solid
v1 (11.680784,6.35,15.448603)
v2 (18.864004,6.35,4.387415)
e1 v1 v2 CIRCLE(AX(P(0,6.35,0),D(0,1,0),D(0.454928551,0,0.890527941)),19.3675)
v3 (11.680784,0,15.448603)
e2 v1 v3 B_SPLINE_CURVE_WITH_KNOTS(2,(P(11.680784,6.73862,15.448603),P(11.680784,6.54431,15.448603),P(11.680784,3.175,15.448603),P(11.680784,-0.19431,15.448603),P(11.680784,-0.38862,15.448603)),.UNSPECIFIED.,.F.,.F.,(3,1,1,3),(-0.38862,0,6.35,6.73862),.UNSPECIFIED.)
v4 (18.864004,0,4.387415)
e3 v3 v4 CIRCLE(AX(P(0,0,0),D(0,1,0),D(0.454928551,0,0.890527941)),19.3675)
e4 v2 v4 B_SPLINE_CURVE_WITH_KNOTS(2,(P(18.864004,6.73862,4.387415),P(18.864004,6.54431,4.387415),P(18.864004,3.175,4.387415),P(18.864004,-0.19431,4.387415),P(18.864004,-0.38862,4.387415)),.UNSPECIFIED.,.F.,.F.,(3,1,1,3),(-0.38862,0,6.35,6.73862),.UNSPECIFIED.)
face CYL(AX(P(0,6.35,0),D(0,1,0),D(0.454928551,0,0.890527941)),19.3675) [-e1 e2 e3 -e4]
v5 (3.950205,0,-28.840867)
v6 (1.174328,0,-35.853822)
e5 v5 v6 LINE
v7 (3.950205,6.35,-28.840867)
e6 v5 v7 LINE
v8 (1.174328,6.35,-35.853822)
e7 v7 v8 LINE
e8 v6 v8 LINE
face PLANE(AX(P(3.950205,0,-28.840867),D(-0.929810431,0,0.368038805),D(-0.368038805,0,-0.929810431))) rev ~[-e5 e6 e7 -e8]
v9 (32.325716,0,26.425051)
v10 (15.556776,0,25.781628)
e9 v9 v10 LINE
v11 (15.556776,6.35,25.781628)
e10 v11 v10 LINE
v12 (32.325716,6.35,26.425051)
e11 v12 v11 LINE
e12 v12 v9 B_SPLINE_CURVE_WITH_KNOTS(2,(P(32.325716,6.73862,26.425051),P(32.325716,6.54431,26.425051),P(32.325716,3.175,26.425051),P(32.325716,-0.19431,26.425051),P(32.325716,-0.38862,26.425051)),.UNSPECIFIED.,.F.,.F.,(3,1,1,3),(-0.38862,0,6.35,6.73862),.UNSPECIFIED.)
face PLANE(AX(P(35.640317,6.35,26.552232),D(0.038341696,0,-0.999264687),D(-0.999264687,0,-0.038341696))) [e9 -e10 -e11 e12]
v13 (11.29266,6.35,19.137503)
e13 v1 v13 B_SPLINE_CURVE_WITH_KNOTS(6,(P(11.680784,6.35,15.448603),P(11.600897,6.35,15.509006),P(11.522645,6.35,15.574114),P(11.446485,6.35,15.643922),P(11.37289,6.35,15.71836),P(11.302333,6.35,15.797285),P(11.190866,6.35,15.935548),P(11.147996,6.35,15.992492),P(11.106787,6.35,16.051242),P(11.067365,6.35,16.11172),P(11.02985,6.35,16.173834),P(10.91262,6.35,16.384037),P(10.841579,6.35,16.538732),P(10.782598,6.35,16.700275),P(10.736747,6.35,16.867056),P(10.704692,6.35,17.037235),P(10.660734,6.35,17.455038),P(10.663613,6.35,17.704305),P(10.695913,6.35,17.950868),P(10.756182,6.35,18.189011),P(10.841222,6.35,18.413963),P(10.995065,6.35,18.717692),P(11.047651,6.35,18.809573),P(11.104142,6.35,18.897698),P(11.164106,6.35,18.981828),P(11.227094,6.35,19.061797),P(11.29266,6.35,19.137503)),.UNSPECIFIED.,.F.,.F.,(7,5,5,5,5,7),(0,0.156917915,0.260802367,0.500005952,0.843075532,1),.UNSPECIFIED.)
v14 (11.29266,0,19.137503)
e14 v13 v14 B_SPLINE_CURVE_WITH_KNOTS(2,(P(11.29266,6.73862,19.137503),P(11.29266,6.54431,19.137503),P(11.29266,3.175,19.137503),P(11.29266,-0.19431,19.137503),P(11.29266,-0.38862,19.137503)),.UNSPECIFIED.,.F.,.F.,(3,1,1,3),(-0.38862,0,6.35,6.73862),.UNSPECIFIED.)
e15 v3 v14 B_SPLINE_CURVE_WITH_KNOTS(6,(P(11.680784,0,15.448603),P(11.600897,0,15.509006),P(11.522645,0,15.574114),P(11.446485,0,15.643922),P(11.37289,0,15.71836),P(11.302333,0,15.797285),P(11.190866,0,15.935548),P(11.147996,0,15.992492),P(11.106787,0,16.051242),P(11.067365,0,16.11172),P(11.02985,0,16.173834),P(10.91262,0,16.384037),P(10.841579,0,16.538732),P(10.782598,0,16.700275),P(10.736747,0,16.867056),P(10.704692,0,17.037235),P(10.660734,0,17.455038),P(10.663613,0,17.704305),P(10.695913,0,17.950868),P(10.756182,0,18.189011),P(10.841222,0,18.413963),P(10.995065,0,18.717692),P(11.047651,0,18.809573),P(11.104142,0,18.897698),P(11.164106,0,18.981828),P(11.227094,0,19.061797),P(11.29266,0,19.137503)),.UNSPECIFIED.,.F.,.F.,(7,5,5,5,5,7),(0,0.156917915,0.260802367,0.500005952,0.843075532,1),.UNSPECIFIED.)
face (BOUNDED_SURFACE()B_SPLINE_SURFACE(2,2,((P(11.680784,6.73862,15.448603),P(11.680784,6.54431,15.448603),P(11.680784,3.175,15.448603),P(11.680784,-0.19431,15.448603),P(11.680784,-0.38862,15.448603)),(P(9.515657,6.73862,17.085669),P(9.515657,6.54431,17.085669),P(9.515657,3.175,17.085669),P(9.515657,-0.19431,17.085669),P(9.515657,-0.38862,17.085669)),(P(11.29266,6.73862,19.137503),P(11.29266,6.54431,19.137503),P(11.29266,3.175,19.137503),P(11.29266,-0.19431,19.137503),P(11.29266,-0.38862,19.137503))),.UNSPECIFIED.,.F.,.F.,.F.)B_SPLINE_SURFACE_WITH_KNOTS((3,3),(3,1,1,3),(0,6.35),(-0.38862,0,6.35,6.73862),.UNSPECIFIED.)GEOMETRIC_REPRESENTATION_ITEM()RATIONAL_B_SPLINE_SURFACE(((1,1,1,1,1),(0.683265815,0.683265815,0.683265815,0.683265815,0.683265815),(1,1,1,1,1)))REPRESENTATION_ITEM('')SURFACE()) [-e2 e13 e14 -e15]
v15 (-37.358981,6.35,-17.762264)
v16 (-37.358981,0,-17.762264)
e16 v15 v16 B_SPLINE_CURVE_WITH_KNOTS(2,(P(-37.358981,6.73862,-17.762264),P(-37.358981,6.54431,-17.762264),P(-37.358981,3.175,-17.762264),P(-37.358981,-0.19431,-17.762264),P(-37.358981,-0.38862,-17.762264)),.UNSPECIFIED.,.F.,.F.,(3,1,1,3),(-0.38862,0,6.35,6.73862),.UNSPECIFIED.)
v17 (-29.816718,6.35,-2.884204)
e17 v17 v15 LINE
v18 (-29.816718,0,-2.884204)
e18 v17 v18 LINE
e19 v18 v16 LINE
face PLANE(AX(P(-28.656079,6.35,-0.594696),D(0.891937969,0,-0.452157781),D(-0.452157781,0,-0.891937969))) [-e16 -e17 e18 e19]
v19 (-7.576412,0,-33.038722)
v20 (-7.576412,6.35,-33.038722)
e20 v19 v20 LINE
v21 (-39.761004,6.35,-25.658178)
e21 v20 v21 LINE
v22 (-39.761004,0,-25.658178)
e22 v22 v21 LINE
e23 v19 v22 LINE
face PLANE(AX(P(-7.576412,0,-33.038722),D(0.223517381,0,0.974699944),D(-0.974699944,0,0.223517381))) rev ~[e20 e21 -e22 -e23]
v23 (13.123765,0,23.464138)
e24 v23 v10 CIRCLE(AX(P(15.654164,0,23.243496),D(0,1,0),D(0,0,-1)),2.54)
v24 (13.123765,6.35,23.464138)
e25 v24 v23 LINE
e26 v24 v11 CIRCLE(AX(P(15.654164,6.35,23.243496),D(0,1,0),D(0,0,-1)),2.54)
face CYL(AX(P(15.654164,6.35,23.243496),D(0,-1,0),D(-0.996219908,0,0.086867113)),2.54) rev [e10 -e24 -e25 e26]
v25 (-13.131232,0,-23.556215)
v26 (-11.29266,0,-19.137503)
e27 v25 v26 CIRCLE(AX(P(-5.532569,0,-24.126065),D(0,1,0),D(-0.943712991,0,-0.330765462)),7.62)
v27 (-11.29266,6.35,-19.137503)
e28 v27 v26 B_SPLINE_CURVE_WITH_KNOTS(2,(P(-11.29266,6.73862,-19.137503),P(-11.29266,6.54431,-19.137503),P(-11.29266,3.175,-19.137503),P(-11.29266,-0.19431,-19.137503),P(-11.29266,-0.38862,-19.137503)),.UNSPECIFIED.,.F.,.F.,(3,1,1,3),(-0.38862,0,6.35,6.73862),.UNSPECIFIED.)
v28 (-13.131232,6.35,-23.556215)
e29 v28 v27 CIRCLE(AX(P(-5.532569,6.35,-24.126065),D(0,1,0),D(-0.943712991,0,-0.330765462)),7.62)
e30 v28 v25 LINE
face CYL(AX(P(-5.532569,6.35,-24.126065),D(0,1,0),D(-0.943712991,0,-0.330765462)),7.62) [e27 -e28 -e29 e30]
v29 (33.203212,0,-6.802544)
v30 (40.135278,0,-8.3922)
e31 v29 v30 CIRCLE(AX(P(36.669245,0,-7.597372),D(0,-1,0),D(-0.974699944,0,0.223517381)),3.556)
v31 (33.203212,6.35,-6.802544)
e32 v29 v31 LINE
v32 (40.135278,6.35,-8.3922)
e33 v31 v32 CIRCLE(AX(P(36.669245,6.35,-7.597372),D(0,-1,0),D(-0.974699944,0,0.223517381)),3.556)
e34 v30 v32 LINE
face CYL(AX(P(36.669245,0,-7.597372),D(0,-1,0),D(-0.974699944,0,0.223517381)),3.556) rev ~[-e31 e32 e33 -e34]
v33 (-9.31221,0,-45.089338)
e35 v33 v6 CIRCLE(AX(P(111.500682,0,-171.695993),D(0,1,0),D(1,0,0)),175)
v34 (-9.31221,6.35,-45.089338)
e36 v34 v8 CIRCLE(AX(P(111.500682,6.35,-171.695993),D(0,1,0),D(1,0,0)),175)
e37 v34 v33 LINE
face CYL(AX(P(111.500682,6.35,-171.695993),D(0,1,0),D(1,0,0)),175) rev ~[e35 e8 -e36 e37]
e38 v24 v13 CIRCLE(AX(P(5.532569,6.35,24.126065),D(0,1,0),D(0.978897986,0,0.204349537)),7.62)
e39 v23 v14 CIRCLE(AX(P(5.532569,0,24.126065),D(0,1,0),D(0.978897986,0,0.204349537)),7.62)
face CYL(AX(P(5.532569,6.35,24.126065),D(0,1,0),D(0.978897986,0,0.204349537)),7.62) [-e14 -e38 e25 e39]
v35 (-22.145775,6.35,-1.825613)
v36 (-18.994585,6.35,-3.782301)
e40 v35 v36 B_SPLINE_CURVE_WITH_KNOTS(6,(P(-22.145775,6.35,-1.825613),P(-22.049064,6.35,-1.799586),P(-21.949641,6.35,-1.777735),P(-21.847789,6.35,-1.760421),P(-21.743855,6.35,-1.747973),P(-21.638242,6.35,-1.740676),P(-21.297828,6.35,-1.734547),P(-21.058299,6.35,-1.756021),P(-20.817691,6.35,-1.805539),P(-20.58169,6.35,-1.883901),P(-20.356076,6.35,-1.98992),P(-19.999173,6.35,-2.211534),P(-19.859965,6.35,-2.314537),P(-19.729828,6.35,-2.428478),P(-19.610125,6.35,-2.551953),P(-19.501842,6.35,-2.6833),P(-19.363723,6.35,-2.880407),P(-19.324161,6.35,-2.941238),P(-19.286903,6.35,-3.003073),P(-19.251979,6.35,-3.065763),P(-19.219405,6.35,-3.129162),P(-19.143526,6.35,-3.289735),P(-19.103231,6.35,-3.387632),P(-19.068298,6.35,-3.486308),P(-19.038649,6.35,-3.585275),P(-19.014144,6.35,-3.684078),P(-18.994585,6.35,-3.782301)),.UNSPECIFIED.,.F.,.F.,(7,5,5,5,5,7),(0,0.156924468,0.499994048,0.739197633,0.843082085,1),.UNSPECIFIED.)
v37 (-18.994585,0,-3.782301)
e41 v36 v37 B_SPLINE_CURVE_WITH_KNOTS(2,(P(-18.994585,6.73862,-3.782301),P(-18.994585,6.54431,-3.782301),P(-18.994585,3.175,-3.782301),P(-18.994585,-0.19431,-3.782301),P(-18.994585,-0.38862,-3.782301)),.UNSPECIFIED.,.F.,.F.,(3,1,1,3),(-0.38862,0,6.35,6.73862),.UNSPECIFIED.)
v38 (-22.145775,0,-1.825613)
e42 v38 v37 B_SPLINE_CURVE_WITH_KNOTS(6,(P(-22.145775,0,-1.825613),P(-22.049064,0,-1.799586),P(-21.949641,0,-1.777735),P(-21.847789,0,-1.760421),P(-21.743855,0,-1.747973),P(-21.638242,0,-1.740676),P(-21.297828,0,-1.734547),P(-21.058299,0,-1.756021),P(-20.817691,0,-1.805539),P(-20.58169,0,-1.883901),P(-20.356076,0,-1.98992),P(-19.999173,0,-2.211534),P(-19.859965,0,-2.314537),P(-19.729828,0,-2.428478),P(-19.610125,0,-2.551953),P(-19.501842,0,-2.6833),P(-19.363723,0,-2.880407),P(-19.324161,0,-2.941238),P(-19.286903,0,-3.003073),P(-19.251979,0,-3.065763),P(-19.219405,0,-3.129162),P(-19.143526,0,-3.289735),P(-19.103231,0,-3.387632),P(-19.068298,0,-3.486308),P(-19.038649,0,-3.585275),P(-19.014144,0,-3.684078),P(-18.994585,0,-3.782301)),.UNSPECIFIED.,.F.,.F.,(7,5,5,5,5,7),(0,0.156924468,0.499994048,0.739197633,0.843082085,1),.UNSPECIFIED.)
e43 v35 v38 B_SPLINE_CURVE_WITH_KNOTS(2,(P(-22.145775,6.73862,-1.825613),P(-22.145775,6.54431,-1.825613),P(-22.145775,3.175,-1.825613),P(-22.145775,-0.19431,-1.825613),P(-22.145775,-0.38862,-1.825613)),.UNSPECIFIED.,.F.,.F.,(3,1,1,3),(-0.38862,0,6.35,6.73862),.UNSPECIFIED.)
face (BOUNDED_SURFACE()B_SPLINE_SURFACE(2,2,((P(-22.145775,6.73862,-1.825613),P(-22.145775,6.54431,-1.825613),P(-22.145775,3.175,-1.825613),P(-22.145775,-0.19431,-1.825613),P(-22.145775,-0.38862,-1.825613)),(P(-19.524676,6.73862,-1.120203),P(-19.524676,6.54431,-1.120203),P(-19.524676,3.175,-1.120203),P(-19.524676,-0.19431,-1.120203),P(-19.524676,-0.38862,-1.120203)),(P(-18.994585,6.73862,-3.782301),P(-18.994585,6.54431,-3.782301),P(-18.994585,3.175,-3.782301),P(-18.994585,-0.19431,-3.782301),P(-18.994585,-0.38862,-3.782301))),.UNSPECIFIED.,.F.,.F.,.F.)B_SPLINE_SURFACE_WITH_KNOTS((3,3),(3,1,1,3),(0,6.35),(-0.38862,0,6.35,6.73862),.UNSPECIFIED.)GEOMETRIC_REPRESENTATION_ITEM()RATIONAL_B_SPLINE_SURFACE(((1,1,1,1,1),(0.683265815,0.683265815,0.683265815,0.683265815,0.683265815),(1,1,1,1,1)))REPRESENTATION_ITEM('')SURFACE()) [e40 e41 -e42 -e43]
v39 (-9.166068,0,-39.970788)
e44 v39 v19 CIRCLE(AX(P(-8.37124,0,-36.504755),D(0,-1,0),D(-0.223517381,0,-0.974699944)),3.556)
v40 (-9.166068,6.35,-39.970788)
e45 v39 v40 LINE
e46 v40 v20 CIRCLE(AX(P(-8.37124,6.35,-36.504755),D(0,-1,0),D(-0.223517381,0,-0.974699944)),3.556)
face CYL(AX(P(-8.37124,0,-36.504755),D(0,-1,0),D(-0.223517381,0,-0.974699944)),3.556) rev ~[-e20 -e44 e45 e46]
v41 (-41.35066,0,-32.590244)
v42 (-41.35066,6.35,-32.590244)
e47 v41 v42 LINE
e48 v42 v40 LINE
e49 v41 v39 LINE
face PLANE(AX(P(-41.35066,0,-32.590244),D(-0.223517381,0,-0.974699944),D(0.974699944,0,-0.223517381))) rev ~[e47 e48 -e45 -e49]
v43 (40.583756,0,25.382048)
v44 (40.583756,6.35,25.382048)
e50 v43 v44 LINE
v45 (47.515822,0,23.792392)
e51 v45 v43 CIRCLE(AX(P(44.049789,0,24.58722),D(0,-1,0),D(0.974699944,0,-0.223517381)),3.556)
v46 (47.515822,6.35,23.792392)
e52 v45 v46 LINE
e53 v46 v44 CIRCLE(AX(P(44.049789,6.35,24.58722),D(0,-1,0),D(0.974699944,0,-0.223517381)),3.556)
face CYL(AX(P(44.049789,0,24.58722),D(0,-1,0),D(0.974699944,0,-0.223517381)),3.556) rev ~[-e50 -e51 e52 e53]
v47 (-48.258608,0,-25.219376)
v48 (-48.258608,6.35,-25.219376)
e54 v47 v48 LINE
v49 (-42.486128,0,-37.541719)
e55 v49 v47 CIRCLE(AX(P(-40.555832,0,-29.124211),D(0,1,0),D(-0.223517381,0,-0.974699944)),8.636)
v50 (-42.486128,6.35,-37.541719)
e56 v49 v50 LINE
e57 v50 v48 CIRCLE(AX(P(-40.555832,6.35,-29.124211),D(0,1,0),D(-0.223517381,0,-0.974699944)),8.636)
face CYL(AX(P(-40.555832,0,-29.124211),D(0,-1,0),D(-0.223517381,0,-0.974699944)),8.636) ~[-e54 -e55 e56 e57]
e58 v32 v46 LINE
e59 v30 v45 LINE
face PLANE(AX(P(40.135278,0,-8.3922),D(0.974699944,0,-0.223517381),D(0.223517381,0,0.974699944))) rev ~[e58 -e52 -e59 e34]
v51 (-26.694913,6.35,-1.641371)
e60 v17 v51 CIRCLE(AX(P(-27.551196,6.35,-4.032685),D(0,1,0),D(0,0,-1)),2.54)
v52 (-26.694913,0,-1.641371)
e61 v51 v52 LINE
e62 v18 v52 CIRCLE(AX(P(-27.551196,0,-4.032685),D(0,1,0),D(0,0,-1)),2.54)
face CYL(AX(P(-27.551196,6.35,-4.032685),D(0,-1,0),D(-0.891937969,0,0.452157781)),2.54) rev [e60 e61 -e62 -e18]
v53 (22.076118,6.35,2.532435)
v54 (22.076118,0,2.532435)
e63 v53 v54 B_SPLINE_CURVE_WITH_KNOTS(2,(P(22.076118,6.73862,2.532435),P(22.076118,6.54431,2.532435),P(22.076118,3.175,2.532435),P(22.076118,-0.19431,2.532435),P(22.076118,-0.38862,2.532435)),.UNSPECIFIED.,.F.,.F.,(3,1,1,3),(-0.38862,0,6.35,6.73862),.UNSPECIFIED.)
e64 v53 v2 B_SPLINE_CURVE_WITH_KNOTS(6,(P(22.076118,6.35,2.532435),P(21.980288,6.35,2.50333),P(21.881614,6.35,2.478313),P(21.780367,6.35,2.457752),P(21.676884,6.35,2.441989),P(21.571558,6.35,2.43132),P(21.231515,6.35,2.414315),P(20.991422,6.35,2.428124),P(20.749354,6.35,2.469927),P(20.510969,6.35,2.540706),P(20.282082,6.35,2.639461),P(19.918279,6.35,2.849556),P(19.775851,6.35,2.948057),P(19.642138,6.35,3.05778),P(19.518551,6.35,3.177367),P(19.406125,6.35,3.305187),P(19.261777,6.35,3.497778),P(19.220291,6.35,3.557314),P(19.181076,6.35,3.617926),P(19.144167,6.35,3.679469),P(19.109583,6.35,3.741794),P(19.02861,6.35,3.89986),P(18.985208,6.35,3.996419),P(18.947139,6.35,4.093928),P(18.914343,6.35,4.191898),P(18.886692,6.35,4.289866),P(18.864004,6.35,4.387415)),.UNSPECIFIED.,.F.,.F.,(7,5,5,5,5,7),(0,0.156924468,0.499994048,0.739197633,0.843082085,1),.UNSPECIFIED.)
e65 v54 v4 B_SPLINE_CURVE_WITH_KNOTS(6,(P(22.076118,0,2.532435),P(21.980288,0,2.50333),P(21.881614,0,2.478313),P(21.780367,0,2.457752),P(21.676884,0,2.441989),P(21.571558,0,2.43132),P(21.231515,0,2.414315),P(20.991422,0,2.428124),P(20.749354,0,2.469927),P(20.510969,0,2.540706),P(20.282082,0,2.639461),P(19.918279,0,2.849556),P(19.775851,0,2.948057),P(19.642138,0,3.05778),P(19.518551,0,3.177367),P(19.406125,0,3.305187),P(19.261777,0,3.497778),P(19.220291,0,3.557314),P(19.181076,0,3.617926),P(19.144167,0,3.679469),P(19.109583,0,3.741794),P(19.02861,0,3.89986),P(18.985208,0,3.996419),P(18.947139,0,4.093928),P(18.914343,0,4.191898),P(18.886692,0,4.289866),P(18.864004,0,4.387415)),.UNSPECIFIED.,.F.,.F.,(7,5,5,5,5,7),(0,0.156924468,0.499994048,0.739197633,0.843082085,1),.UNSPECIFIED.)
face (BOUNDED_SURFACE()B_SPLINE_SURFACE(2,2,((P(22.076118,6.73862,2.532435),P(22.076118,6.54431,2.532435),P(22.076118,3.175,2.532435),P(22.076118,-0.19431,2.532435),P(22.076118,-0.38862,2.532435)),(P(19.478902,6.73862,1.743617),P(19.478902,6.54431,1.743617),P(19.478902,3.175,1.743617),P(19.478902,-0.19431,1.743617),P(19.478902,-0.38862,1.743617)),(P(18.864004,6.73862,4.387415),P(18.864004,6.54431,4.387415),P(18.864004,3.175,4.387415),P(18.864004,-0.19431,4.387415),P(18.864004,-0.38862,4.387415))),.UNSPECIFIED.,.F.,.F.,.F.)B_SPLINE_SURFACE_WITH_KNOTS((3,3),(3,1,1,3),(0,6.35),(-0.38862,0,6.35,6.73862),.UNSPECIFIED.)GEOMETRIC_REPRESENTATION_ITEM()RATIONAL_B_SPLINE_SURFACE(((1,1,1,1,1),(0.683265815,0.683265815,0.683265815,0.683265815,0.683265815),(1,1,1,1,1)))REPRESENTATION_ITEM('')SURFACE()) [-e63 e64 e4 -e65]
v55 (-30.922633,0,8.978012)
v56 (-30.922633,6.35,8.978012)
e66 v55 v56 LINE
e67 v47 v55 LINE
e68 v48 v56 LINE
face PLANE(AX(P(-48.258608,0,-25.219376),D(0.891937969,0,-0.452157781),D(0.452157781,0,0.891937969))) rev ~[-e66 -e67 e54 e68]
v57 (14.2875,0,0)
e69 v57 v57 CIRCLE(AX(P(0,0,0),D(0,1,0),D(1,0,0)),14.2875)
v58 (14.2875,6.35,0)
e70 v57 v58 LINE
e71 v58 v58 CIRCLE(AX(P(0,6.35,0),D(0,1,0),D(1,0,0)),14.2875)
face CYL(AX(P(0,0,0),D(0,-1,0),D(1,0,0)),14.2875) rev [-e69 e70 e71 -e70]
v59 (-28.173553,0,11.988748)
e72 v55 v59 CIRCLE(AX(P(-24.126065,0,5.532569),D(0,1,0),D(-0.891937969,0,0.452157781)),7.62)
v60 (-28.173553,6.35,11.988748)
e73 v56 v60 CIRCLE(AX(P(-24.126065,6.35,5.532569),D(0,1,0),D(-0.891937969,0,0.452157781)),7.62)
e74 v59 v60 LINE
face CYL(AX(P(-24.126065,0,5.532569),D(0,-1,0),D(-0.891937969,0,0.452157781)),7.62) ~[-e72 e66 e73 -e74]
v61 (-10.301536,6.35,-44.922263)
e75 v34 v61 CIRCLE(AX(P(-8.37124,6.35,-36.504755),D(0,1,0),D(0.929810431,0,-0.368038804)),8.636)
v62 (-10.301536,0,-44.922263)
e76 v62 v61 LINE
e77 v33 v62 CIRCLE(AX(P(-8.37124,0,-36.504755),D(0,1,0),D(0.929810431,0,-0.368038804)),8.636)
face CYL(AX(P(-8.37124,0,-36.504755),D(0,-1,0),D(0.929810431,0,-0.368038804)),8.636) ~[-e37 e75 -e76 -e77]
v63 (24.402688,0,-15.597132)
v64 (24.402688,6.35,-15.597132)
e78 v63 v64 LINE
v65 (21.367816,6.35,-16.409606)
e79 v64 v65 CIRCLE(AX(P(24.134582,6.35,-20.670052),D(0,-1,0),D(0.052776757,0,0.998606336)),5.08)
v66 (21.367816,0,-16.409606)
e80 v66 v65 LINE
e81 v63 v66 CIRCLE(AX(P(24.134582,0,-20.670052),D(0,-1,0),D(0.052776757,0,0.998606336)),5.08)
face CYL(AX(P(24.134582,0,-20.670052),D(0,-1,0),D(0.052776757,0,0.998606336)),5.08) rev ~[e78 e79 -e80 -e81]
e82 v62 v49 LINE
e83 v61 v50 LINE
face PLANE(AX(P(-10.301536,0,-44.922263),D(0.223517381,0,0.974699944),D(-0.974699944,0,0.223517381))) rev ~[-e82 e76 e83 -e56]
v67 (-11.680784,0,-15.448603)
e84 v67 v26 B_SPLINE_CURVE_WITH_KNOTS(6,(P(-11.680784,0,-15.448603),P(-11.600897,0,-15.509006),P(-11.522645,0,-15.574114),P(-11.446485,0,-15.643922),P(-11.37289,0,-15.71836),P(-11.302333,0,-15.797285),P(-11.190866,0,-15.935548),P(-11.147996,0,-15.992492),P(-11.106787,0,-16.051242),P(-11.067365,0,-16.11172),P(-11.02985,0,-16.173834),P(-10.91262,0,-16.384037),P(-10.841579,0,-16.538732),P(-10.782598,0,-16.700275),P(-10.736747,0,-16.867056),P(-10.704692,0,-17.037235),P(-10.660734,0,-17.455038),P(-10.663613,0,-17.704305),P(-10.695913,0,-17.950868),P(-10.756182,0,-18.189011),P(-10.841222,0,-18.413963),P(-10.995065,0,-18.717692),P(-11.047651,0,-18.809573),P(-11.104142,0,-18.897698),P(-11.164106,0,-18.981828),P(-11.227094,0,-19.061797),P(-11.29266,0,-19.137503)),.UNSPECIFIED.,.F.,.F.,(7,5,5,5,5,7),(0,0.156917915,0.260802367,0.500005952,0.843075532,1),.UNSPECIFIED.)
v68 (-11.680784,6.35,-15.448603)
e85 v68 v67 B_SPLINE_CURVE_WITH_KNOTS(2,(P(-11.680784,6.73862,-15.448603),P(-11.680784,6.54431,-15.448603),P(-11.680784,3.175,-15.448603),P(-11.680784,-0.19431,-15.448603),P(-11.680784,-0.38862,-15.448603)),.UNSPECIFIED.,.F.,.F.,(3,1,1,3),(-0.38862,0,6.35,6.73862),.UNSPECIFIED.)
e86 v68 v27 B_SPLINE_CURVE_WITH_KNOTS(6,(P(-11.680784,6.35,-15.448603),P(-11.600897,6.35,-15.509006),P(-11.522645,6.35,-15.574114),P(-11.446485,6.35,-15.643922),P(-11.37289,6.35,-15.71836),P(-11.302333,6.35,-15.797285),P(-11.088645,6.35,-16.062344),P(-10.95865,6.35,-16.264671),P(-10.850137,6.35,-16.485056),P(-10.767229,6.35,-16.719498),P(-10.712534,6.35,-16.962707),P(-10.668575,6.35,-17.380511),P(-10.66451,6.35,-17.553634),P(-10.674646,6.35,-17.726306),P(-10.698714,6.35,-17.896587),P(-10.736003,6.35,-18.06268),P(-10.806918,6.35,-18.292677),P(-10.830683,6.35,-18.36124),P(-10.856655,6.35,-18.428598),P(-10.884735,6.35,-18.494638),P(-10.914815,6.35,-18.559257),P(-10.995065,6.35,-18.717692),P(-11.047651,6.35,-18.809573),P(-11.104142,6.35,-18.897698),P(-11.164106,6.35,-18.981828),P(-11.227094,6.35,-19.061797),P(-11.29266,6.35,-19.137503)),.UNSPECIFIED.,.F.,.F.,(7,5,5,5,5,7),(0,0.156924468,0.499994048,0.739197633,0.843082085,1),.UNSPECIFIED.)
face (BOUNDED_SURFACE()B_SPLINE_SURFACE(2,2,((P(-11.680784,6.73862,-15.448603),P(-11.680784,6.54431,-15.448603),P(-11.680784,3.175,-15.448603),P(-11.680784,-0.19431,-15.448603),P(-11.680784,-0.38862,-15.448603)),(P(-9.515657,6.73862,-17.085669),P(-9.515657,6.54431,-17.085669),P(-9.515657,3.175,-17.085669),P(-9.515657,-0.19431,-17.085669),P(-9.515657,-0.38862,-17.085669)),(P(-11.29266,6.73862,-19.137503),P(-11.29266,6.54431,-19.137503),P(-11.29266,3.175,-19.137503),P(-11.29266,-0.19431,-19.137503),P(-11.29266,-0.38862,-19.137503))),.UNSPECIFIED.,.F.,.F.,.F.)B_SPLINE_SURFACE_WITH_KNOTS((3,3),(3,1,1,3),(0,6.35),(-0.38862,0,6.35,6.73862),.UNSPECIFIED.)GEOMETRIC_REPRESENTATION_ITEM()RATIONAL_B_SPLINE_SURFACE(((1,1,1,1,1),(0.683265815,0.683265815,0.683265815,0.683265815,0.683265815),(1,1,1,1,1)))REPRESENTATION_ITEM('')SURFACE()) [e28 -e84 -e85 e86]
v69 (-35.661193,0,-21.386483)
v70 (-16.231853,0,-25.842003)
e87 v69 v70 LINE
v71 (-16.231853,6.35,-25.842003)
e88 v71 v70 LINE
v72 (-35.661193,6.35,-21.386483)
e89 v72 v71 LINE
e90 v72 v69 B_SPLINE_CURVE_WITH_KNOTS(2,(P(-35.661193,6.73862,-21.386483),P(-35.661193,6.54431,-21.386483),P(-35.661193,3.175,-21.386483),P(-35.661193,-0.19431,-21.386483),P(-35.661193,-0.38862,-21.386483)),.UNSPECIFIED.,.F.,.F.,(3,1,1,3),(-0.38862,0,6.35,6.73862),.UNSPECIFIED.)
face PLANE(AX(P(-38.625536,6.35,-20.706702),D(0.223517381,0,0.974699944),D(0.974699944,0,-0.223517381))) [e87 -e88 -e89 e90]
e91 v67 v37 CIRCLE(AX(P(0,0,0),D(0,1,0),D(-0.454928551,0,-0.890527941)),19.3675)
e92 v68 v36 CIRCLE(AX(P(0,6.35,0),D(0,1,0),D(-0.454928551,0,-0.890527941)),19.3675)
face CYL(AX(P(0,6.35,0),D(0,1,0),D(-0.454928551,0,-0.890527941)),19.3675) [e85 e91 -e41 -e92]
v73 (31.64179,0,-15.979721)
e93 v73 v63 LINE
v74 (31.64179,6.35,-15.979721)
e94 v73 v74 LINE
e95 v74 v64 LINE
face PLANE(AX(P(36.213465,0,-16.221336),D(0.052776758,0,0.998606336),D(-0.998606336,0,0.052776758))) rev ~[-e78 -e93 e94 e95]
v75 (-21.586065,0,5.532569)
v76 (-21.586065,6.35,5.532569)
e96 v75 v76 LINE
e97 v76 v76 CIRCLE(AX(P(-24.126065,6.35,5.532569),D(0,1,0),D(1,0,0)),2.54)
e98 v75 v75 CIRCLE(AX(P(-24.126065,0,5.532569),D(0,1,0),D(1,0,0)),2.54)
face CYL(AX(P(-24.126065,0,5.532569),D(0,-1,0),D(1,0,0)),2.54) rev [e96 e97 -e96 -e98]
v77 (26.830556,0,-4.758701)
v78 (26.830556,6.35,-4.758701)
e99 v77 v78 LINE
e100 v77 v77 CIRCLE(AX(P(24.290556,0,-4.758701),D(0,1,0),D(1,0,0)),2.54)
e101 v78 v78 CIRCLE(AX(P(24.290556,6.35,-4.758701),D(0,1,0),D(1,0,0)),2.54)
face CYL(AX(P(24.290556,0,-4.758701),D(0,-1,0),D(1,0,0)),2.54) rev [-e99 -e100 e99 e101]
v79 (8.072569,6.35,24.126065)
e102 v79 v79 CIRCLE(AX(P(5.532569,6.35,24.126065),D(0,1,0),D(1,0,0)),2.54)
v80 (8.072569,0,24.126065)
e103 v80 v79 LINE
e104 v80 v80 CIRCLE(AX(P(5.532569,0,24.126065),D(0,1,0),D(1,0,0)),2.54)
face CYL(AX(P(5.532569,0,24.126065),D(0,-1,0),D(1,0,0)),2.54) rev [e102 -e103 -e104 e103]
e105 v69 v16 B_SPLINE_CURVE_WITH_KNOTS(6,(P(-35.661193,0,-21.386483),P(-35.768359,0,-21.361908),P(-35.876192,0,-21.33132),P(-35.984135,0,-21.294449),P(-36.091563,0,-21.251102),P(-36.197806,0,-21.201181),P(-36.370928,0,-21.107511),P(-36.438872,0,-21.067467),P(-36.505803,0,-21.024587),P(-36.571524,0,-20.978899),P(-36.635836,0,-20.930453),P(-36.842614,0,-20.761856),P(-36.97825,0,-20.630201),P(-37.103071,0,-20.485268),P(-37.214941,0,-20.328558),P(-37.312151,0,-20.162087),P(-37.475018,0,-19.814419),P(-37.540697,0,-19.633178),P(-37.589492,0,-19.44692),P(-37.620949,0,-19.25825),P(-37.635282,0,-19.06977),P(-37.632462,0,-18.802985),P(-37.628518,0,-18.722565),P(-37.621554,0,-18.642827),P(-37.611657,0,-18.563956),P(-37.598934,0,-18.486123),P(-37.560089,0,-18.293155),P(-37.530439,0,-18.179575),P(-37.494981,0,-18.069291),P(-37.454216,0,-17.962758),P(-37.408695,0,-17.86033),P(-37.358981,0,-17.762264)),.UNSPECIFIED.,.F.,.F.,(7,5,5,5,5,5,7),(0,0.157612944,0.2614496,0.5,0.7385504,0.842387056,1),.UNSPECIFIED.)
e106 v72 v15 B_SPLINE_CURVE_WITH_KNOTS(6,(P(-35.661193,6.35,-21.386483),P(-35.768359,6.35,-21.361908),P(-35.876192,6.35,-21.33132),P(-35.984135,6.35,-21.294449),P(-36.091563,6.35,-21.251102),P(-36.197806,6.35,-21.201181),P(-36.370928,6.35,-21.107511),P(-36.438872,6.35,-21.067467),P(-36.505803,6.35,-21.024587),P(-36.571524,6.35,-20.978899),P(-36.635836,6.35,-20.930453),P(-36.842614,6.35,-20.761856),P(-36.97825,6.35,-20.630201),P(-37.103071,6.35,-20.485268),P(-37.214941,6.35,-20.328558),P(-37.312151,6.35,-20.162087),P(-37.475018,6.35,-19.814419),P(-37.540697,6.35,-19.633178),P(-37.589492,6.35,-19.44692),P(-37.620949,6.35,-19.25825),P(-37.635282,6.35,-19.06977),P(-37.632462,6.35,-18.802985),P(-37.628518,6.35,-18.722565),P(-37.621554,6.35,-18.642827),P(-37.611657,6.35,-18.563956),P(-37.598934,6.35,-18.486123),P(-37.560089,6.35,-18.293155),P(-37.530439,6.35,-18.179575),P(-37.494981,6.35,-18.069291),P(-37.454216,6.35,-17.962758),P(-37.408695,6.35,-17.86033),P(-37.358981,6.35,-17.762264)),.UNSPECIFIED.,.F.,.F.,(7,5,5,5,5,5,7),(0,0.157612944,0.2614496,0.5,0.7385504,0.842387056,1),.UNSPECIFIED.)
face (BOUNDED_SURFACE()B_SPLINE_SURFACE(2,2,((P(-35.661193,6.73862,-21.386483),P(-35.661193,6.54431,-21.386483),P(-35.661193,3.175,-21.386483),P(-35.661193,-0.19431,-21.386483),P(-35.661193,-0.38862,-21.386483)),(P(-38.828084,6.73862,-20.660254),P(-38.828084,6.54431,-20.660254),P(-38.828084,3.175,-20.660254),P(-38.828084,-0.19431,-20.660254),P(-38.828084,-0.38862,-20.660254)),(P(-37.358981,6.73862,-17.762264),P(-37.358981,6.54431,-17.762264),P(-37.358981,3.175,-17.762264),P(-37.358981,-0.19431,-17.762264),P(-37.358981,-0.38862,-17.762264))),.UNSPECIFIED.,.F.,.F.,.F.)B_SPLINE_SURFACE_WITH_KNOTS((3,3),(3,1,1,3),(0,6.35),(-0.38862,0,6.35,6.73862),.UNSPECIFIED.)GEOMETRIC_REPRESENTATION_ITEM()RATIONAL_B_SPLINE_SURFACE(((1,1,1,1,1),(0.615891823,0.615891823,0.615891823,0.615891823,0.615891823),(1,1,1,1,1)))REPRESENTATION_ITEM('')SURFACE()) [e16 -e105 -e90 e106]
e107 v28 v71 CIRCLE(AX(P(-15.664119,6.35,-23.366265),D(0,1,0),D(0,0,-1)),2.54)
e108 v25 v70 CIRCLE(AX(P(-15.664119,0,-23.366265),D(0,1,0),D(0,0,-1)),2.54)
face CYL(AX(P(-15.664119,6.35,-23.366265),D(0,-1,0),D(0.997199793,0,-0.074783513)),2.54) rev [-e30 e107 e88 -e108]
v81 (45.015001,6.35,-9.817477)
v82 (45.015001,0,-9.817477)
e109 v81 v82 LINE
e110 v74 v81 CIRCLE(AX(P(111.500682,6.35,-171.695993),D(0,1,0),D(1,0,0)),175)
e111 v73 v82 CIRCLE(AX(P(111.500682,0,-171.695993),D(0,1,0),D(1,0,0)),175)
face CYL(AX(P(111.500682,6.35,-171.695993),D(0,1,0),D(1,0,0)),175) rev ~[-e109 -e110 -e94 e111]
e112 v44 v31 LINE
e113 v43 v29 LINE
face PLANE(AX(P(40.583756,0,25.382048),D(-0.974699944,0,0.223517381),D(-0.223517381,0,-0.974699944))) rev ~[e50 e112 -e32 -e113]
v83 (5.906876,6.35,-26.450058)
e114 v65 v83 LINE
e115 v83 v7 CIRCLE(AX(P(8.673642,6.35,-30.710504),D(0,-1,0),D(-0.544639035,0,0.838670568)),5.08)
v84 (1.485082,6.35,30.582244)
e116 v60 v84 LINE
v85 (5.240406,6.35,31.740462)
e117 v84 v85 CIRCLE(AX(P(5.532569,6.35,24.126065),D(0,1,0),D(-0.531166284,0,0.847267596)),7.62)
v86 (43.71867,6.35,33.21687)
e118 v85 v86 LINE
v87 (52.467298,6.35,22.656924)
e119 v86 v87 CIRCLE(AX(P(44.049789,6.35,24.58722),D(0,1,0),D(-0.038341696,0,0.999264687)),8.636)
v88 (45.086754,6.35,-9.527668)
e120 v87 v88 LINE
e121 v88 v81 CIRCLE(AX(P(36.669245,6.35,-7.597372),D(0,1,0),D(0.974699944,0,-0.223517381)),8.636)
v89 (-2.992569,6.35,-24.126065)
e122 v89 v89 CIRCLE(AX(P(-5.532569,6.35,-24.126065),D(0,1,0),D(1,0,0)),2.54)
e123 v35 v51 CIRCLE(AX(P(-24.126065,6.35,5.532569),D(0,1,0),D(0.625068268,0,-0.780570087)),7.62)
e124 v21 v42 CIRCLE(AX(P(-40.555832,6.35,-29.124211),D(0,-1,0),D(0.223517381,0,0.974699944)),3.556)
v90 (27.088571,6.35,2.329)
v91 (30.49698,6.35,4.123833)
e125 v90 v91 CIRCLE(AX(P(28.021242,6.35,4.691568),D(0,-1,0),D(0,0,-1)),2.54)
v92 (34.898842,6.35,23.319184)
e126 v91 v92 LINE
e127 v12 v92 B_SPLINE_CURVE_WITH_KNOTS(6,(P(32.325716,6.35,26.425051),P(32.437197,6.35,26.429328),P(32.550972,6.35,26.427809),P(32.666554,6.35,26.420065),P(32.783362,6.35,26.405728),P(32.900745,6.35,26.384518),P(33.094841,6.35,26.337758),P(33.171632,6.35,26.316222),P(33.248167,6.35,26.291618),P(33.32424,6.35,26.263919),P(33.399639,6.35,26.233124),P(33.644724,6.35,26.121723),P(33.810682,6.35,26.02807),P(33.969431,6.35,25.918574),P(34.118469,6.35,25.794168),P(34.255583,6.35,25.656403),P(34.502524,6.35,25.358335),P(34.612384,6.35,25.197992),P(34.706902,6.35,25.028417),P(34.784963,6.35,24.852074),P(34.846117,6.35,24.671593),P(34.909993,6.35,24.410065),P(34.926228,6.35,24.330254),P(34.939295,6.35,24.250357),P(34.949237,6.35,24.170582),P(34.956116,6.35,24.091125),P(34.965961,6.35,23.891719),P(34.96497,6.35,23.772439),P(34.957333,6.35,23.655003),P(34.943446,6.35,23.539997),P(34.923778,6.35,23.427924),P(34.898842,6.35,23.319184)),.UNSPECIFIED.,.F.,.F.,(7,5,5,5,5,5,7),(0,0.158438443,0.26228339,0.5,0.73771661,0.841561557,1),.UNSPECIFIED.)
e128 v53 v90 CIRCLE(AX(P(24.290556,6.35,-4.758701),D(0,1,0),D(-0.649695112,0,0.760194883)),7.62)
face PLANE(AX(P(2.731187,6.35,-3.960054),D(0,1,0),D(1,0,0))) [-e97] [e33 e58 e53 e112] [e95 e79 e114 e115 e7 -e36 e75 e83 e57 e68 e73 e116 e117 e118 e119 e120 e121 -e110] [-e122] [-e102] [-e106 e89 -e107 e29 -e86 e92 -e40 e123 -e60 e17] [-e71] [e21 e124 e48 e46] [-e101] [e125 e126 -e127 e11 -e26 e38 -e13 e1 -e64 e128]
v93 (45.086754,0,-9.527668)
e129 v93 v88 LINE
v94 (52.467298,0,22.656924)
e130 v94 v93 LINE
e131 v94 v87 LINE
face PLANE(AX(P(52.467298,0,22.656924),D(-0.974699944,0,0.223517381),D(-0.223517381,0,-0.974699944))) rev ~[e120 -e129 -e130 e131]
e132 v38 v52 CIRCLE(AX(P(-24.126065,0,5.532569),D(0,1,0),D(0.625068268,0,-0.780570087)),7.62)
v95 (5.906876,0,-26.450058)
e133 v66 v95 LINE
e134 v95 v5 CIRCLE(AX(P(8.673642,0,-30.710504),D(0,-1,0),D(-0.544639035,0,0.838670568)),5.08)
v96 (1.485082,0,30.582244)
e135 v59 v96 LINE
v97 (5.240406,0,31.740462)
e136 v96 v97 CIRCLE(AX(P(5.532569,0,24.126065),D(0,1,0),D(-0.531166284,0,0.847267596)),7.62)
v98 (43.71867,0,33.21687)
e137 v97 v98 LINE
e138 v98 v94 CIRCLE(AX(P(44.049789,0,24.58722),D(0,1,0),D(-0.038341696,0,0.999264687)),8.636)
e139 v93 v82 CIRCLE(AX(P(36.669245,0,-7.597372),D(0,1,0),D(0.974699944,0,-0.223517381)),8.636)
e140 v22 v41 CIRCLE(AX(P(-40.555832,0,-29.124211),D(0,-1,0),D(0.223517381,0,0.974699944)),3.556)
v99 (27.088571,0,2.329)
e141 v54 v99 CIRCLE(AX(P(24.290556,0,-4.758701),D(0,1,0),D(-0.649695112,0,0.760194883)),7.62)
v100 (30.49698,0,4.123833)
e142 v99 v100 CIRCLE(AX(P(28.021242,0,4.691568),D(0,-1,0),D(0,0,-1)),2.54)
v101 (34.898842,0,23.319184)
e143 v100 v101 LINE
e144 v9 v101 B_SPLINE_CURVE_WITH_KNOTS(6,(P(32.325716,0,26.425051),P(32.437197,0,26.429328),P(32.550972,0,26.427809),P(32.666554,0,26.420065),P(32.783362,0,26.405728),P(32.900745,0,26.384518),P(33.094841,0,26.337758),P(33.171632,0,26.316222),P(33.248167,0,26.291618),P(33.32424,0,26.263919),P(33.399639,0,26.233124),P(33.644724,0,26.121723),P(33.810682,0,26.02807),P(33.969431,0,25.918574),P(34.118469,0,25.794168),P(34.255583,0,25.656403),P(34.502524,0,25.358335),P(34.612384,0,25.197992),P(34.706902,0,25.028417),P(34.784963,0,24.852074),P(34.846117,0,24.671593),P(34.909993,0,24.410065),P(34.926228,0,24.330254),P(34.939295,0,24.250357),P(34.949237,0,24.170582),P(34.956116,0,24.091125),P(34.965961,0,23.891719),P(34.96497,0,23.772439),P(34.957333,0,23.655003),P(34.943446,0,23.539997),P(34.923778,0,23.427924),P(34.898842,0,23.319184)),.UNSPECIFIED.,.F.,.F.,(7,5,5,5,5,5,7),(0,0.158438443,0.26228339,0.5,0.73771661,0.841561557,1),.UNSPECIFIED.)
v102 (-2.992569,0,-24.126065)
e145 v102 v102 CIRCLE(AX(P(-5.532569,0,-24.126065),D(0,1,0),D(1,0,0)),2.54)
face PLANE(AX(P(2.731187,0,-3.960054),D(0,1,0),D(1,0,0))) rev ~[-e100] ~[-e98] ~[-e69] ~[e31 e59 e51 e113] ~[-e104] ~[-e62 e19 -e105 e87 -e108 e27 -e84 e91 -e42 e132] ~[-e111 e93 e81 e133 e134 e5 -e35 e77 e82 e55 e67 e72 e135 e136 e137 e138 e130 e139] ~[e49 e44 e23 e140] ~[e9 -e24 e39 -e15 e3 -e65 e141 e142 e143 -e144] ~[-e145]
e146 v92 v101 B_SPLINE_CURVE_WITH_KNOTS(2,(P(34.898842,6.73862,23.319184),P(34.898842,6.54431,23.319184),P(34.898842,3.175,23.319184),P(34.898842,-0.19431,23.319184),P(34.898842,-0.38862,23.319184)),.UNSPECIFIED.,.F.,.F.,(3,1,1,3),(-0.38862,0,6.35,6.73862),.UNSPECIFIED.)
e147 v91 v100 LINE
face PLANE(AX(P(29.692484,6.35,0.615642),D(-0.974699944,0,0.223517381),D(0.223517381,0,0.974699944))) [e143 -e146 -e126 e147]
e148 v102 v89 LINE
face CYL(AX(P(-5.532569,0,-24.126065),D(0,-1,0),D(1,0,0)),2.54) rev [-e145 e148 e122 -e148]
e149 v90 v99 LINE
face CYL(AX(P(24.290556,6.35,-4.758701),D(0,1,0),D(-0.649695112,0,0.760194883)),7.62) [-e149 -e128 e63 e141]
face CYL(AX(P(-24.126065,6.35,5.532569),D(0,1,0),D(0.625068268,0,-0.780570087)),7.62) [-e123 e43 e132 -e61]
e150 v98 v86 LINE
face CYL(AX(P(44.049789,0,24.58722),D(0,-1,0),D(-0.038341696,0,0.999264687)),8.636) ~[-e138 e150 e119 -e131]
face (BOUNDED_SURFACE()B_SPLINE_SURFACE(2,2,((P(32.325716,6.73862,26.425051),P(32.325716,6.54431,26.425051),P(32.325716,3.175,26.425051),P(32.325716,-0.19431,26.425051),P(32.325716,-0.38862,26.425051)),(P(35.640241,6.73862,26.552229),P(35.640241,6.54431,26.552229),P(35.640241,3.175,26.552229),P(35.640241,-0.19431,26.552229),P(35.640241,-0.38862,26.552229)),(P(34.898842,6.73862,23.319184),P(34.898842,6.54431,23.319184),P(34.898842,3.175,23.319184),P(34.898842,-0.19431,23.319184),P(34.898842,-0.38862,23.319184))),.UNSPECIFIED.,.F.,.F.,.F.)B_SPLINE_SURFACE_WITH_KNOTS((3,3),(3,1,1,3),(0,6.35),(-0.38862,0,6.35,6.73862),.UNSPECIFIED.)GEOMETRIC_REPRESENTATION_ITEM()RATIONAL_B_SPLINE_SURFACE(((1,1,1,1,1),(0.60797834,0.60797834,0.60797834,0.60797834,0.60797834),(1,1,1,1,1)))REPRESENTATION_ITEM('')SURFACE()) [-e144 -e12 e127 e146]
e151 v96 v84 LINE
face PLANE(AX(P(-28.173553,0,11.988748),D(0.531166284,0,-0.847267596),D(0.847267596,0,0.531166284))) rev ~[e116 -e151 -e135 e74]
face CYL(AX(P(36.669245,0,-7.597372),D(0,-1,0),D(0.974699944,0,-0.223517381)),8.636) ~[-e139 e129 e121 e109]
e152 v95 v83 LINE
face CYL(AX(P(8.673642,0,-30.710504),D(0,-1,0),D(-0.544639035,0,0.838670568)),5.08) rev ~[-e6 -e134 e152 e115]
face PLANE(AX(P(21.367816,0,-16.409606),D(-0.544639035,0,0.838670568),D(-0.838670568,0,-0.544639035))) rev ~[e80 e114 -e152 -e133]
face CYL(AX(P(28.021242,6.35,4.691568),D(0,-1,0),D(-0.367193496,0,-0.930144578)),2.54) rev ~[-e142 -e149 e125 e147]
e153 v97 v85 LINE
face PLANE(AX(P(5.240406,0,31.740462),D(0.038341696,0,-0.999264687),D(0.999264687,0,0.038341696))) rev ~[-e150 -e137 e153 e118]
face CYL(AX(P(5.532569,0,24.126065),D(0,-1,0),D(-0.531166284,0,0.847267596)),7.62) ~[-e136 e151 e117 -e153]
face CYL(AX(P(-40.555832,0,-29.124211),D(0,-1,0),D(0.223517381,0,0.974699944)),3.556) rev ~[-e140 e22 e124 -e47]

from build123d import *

# Parameters (mm, degrees)
SKETCH1_R           = 2.54
SKETCH1_R_2         = 14.2875
BOSS_EXTRUDE1_DEPTH = 6.35
SKETCH3_R           = 175
CUT_EXTRUDE1_DEPTH  = 7.35
FILLET1_R           = 2.54


with BuildPart() as part:
    # Sketch1 → Boss-Extrude1 (new body)
    with BuildSketch(Plane(origin=(0, 0, 0), x_dir=(1, 0, 0), z_dir=(0, 1, 0))):
        with BuildLine():
            Line((-10.301536111, 44.922263418), (-42.486128255, 37.541719497))
            ThreePointArc((-42.486128255, 37.541719497), (-48.376257791, 32.787738977), (-48.258608454, 25.219376184))
            Line((-48.258608454, 25.219376184), (-30.922632743, -8.978011563))
            ThreePointArc((-30.922632743, -8.978011563), (-29.753188396, -10.670651305), (-28.173552503, -11.988748349))
            Line((-28.173552503, -11.988748349), (1.485082186, -30.582244497))
            ThreePointArc((1.485082186, -30.582244497), (3.286793362, -31.407609936), (5.240405543, -31.740462332))
            Line((5.240405543, -31.740462332), (43.718670442, -33.216869907))
            ThreePointArc((43.718670442, -33.216869907), (50.700017874, -30.096753296), (52.467298047, -22.656923969))
            Line((52.467298047, -22.656923969), (45.086754126, 9.527668174))
            ThreePointArc((45.086754126, 9.527668174), (41.870070274, 14.491711544), (36.213465331, 16.221336388))
            Line((36.213465331, 16.221336388), (24.402688291, 15.597131936))
            ThreePointArc((24.402688291, 15.597131936), (22.820864626, 15.76285886), (21.367816063, 16.409605637))
            Line((21.367816063, 16.409605637), (5.906875614, 26.450057762))
            ThreePointArc((5.906875614, 26.450057762), (4.742385284, 27.493110687), (3.950204921, 28.84086712))
            Line((3.950204921, 28.84086712), (-0.341397124, 39.683137821))
            ThreePointArc((-0.341397124, 39.683137821), (-4.350888408, 44.147873767), (-10.301536111, 44.922263418))
        make_face()
        with Locations((-5.53256927, 24.126065418)):
            Circle(SKETCH1_R, mode=Mode.SUBTRACT)
        with Locations((24.290556126, 4.758701333)):
            Circle(SKETCH1_R, mode=Mode.SUBTRACT)
        with Locations((5.53256927, -24.126065418)):
            Circle(SKETCH1_R, mode=Mode.SUBTRACT)
        with Locations((-24.126065418, -5.53256927)):
            Circle(SKETCH1_R, mode=Mode.SUBTRACT)
        Circle(SKETCH1_R_2, mode=Mode.SUBTRACT)
        with BuildLine():
            Line((40.135278412, 8.392199879), (47.515822333, -23.792392264))
            ThreePointArc((47.515822333, -23.792392264), (44.84461714, -28.053253071), (40.583756333, -25.382047878))
            Line((40.583756333, -25.382047878), (33.203212412, 6.802544265))
            ThreePointArc((33.203212412, 6.802544265), (35.874417605, 11.063405072), (40.135278412, 8.392199879))
        make_face(mode=Mode.SUBTRACT)
        with BuildLine():
            Line((-7.576412202, 33.038721704), (-39.761004345, 25.658177783))
            ThreePointArc((-39.761004345, 25.658177783), (-44.021865152, 28.329382976), (-41.350659959, 32.590243783))
            Line((-41.350659959, 32.590243783), (-9.166067816, 39.970787704))
            ThreePointArc((-9.166067816, 39.970787704), (-4.905207009, 37.299582511), (-7.576412202, 33.038721704))
        make_face(mode=Mode.SUBTRACT)
    extrude(amount=BOSS_EXTRUDE1_DEPTH)

    # Sketch3 → Cut-Extrude1 (cut, through all)
    with BuildSketch(Plane(origin=(0, 6.35, 0), x_dir=(1, 0, 0), z_dir=(0, 1, 0))):
        with Locations((111.500681804, 171.695993352)):
            Circle(SKETCH3_R)
        with BuildLine():
            Line((29.692484449, -0.615642385), (35.632280619, -26.517516174))
            ThreePointArc((35.632280619, -26.517516174), (35.636280873, -26.534877998), (35.640316938, -26.552231532))
            Line((35.640316938, -26.552231532), (12.991771922, -25.68320889))
            ThreePointArc((12.991771922, -25.68320889), (12.360044144, -20.742282498), (8.810828705, -17.247299898))
            ThreePointArc((8.810828705, -17.247299898), (16.242952225, -10.548296511), (19.339879369, -1.033983679))
            ThreePointArc((19.339879369, -1.033983679), (24.598223728, -2.85508489), (29.692484449, -0.615642385))
        make_face()
        with BuildLine():
            Line((-38.62553605, 20.706702069), (-12.723662261, 26.646498238))
            ThreePointArc((-12.723662261, 26.646498238), (-12.567344847, 21.197527799), (-8.810828705, 17.247299898))
            ThreePointArc((-8.810828705, 17.247299898), (-16.40945516, 10.287363006), (-19.363045216, 0.415374791))
            ThreePointArc((-19.363045216, 0.415374791), (-23.979054852, 2.086012481), (-28.656078555, 0.594696105))
            Line((-28.656078555, 0.594696105), (-38.829256345, 20.662566027))
            ThreePointArc((-38.829256345, 20.662566027), (-38.727263029, 20.684019377), (-38.62553605, 20.706702069))
        make_face()
    extrude(amount=-CUT_EXTRUDE1_DEPTH, mode=Mode.SUBTRACT)

    # Fillet1
    fillet1_edges = [part.edges().sort_by_distance(p)[0] for p in [
        (35.640316938, 3.175, 26.552231532),
        (8.810828705, 3.175, 17.247299898),
        (12.991771922, 3.175, 25.68320889),
        (29.692484449, 3.175, 0.615642385),
        (19.339879369, 3.175, 1.033983679),
        (-38.829256345, 3.175, -20.662566027),
        (-28.656078555, 3.175, -0.594696105),
        (-19.363045216, 3.175, -0.415374791),
        (-8.810828705, 3.175, -17.247299898),
        (-12.723662261, 3.175, -26.646498238),
    ]]
    fillet(fillet1_edges, radius=FILLET1_R)


solid = part.part
